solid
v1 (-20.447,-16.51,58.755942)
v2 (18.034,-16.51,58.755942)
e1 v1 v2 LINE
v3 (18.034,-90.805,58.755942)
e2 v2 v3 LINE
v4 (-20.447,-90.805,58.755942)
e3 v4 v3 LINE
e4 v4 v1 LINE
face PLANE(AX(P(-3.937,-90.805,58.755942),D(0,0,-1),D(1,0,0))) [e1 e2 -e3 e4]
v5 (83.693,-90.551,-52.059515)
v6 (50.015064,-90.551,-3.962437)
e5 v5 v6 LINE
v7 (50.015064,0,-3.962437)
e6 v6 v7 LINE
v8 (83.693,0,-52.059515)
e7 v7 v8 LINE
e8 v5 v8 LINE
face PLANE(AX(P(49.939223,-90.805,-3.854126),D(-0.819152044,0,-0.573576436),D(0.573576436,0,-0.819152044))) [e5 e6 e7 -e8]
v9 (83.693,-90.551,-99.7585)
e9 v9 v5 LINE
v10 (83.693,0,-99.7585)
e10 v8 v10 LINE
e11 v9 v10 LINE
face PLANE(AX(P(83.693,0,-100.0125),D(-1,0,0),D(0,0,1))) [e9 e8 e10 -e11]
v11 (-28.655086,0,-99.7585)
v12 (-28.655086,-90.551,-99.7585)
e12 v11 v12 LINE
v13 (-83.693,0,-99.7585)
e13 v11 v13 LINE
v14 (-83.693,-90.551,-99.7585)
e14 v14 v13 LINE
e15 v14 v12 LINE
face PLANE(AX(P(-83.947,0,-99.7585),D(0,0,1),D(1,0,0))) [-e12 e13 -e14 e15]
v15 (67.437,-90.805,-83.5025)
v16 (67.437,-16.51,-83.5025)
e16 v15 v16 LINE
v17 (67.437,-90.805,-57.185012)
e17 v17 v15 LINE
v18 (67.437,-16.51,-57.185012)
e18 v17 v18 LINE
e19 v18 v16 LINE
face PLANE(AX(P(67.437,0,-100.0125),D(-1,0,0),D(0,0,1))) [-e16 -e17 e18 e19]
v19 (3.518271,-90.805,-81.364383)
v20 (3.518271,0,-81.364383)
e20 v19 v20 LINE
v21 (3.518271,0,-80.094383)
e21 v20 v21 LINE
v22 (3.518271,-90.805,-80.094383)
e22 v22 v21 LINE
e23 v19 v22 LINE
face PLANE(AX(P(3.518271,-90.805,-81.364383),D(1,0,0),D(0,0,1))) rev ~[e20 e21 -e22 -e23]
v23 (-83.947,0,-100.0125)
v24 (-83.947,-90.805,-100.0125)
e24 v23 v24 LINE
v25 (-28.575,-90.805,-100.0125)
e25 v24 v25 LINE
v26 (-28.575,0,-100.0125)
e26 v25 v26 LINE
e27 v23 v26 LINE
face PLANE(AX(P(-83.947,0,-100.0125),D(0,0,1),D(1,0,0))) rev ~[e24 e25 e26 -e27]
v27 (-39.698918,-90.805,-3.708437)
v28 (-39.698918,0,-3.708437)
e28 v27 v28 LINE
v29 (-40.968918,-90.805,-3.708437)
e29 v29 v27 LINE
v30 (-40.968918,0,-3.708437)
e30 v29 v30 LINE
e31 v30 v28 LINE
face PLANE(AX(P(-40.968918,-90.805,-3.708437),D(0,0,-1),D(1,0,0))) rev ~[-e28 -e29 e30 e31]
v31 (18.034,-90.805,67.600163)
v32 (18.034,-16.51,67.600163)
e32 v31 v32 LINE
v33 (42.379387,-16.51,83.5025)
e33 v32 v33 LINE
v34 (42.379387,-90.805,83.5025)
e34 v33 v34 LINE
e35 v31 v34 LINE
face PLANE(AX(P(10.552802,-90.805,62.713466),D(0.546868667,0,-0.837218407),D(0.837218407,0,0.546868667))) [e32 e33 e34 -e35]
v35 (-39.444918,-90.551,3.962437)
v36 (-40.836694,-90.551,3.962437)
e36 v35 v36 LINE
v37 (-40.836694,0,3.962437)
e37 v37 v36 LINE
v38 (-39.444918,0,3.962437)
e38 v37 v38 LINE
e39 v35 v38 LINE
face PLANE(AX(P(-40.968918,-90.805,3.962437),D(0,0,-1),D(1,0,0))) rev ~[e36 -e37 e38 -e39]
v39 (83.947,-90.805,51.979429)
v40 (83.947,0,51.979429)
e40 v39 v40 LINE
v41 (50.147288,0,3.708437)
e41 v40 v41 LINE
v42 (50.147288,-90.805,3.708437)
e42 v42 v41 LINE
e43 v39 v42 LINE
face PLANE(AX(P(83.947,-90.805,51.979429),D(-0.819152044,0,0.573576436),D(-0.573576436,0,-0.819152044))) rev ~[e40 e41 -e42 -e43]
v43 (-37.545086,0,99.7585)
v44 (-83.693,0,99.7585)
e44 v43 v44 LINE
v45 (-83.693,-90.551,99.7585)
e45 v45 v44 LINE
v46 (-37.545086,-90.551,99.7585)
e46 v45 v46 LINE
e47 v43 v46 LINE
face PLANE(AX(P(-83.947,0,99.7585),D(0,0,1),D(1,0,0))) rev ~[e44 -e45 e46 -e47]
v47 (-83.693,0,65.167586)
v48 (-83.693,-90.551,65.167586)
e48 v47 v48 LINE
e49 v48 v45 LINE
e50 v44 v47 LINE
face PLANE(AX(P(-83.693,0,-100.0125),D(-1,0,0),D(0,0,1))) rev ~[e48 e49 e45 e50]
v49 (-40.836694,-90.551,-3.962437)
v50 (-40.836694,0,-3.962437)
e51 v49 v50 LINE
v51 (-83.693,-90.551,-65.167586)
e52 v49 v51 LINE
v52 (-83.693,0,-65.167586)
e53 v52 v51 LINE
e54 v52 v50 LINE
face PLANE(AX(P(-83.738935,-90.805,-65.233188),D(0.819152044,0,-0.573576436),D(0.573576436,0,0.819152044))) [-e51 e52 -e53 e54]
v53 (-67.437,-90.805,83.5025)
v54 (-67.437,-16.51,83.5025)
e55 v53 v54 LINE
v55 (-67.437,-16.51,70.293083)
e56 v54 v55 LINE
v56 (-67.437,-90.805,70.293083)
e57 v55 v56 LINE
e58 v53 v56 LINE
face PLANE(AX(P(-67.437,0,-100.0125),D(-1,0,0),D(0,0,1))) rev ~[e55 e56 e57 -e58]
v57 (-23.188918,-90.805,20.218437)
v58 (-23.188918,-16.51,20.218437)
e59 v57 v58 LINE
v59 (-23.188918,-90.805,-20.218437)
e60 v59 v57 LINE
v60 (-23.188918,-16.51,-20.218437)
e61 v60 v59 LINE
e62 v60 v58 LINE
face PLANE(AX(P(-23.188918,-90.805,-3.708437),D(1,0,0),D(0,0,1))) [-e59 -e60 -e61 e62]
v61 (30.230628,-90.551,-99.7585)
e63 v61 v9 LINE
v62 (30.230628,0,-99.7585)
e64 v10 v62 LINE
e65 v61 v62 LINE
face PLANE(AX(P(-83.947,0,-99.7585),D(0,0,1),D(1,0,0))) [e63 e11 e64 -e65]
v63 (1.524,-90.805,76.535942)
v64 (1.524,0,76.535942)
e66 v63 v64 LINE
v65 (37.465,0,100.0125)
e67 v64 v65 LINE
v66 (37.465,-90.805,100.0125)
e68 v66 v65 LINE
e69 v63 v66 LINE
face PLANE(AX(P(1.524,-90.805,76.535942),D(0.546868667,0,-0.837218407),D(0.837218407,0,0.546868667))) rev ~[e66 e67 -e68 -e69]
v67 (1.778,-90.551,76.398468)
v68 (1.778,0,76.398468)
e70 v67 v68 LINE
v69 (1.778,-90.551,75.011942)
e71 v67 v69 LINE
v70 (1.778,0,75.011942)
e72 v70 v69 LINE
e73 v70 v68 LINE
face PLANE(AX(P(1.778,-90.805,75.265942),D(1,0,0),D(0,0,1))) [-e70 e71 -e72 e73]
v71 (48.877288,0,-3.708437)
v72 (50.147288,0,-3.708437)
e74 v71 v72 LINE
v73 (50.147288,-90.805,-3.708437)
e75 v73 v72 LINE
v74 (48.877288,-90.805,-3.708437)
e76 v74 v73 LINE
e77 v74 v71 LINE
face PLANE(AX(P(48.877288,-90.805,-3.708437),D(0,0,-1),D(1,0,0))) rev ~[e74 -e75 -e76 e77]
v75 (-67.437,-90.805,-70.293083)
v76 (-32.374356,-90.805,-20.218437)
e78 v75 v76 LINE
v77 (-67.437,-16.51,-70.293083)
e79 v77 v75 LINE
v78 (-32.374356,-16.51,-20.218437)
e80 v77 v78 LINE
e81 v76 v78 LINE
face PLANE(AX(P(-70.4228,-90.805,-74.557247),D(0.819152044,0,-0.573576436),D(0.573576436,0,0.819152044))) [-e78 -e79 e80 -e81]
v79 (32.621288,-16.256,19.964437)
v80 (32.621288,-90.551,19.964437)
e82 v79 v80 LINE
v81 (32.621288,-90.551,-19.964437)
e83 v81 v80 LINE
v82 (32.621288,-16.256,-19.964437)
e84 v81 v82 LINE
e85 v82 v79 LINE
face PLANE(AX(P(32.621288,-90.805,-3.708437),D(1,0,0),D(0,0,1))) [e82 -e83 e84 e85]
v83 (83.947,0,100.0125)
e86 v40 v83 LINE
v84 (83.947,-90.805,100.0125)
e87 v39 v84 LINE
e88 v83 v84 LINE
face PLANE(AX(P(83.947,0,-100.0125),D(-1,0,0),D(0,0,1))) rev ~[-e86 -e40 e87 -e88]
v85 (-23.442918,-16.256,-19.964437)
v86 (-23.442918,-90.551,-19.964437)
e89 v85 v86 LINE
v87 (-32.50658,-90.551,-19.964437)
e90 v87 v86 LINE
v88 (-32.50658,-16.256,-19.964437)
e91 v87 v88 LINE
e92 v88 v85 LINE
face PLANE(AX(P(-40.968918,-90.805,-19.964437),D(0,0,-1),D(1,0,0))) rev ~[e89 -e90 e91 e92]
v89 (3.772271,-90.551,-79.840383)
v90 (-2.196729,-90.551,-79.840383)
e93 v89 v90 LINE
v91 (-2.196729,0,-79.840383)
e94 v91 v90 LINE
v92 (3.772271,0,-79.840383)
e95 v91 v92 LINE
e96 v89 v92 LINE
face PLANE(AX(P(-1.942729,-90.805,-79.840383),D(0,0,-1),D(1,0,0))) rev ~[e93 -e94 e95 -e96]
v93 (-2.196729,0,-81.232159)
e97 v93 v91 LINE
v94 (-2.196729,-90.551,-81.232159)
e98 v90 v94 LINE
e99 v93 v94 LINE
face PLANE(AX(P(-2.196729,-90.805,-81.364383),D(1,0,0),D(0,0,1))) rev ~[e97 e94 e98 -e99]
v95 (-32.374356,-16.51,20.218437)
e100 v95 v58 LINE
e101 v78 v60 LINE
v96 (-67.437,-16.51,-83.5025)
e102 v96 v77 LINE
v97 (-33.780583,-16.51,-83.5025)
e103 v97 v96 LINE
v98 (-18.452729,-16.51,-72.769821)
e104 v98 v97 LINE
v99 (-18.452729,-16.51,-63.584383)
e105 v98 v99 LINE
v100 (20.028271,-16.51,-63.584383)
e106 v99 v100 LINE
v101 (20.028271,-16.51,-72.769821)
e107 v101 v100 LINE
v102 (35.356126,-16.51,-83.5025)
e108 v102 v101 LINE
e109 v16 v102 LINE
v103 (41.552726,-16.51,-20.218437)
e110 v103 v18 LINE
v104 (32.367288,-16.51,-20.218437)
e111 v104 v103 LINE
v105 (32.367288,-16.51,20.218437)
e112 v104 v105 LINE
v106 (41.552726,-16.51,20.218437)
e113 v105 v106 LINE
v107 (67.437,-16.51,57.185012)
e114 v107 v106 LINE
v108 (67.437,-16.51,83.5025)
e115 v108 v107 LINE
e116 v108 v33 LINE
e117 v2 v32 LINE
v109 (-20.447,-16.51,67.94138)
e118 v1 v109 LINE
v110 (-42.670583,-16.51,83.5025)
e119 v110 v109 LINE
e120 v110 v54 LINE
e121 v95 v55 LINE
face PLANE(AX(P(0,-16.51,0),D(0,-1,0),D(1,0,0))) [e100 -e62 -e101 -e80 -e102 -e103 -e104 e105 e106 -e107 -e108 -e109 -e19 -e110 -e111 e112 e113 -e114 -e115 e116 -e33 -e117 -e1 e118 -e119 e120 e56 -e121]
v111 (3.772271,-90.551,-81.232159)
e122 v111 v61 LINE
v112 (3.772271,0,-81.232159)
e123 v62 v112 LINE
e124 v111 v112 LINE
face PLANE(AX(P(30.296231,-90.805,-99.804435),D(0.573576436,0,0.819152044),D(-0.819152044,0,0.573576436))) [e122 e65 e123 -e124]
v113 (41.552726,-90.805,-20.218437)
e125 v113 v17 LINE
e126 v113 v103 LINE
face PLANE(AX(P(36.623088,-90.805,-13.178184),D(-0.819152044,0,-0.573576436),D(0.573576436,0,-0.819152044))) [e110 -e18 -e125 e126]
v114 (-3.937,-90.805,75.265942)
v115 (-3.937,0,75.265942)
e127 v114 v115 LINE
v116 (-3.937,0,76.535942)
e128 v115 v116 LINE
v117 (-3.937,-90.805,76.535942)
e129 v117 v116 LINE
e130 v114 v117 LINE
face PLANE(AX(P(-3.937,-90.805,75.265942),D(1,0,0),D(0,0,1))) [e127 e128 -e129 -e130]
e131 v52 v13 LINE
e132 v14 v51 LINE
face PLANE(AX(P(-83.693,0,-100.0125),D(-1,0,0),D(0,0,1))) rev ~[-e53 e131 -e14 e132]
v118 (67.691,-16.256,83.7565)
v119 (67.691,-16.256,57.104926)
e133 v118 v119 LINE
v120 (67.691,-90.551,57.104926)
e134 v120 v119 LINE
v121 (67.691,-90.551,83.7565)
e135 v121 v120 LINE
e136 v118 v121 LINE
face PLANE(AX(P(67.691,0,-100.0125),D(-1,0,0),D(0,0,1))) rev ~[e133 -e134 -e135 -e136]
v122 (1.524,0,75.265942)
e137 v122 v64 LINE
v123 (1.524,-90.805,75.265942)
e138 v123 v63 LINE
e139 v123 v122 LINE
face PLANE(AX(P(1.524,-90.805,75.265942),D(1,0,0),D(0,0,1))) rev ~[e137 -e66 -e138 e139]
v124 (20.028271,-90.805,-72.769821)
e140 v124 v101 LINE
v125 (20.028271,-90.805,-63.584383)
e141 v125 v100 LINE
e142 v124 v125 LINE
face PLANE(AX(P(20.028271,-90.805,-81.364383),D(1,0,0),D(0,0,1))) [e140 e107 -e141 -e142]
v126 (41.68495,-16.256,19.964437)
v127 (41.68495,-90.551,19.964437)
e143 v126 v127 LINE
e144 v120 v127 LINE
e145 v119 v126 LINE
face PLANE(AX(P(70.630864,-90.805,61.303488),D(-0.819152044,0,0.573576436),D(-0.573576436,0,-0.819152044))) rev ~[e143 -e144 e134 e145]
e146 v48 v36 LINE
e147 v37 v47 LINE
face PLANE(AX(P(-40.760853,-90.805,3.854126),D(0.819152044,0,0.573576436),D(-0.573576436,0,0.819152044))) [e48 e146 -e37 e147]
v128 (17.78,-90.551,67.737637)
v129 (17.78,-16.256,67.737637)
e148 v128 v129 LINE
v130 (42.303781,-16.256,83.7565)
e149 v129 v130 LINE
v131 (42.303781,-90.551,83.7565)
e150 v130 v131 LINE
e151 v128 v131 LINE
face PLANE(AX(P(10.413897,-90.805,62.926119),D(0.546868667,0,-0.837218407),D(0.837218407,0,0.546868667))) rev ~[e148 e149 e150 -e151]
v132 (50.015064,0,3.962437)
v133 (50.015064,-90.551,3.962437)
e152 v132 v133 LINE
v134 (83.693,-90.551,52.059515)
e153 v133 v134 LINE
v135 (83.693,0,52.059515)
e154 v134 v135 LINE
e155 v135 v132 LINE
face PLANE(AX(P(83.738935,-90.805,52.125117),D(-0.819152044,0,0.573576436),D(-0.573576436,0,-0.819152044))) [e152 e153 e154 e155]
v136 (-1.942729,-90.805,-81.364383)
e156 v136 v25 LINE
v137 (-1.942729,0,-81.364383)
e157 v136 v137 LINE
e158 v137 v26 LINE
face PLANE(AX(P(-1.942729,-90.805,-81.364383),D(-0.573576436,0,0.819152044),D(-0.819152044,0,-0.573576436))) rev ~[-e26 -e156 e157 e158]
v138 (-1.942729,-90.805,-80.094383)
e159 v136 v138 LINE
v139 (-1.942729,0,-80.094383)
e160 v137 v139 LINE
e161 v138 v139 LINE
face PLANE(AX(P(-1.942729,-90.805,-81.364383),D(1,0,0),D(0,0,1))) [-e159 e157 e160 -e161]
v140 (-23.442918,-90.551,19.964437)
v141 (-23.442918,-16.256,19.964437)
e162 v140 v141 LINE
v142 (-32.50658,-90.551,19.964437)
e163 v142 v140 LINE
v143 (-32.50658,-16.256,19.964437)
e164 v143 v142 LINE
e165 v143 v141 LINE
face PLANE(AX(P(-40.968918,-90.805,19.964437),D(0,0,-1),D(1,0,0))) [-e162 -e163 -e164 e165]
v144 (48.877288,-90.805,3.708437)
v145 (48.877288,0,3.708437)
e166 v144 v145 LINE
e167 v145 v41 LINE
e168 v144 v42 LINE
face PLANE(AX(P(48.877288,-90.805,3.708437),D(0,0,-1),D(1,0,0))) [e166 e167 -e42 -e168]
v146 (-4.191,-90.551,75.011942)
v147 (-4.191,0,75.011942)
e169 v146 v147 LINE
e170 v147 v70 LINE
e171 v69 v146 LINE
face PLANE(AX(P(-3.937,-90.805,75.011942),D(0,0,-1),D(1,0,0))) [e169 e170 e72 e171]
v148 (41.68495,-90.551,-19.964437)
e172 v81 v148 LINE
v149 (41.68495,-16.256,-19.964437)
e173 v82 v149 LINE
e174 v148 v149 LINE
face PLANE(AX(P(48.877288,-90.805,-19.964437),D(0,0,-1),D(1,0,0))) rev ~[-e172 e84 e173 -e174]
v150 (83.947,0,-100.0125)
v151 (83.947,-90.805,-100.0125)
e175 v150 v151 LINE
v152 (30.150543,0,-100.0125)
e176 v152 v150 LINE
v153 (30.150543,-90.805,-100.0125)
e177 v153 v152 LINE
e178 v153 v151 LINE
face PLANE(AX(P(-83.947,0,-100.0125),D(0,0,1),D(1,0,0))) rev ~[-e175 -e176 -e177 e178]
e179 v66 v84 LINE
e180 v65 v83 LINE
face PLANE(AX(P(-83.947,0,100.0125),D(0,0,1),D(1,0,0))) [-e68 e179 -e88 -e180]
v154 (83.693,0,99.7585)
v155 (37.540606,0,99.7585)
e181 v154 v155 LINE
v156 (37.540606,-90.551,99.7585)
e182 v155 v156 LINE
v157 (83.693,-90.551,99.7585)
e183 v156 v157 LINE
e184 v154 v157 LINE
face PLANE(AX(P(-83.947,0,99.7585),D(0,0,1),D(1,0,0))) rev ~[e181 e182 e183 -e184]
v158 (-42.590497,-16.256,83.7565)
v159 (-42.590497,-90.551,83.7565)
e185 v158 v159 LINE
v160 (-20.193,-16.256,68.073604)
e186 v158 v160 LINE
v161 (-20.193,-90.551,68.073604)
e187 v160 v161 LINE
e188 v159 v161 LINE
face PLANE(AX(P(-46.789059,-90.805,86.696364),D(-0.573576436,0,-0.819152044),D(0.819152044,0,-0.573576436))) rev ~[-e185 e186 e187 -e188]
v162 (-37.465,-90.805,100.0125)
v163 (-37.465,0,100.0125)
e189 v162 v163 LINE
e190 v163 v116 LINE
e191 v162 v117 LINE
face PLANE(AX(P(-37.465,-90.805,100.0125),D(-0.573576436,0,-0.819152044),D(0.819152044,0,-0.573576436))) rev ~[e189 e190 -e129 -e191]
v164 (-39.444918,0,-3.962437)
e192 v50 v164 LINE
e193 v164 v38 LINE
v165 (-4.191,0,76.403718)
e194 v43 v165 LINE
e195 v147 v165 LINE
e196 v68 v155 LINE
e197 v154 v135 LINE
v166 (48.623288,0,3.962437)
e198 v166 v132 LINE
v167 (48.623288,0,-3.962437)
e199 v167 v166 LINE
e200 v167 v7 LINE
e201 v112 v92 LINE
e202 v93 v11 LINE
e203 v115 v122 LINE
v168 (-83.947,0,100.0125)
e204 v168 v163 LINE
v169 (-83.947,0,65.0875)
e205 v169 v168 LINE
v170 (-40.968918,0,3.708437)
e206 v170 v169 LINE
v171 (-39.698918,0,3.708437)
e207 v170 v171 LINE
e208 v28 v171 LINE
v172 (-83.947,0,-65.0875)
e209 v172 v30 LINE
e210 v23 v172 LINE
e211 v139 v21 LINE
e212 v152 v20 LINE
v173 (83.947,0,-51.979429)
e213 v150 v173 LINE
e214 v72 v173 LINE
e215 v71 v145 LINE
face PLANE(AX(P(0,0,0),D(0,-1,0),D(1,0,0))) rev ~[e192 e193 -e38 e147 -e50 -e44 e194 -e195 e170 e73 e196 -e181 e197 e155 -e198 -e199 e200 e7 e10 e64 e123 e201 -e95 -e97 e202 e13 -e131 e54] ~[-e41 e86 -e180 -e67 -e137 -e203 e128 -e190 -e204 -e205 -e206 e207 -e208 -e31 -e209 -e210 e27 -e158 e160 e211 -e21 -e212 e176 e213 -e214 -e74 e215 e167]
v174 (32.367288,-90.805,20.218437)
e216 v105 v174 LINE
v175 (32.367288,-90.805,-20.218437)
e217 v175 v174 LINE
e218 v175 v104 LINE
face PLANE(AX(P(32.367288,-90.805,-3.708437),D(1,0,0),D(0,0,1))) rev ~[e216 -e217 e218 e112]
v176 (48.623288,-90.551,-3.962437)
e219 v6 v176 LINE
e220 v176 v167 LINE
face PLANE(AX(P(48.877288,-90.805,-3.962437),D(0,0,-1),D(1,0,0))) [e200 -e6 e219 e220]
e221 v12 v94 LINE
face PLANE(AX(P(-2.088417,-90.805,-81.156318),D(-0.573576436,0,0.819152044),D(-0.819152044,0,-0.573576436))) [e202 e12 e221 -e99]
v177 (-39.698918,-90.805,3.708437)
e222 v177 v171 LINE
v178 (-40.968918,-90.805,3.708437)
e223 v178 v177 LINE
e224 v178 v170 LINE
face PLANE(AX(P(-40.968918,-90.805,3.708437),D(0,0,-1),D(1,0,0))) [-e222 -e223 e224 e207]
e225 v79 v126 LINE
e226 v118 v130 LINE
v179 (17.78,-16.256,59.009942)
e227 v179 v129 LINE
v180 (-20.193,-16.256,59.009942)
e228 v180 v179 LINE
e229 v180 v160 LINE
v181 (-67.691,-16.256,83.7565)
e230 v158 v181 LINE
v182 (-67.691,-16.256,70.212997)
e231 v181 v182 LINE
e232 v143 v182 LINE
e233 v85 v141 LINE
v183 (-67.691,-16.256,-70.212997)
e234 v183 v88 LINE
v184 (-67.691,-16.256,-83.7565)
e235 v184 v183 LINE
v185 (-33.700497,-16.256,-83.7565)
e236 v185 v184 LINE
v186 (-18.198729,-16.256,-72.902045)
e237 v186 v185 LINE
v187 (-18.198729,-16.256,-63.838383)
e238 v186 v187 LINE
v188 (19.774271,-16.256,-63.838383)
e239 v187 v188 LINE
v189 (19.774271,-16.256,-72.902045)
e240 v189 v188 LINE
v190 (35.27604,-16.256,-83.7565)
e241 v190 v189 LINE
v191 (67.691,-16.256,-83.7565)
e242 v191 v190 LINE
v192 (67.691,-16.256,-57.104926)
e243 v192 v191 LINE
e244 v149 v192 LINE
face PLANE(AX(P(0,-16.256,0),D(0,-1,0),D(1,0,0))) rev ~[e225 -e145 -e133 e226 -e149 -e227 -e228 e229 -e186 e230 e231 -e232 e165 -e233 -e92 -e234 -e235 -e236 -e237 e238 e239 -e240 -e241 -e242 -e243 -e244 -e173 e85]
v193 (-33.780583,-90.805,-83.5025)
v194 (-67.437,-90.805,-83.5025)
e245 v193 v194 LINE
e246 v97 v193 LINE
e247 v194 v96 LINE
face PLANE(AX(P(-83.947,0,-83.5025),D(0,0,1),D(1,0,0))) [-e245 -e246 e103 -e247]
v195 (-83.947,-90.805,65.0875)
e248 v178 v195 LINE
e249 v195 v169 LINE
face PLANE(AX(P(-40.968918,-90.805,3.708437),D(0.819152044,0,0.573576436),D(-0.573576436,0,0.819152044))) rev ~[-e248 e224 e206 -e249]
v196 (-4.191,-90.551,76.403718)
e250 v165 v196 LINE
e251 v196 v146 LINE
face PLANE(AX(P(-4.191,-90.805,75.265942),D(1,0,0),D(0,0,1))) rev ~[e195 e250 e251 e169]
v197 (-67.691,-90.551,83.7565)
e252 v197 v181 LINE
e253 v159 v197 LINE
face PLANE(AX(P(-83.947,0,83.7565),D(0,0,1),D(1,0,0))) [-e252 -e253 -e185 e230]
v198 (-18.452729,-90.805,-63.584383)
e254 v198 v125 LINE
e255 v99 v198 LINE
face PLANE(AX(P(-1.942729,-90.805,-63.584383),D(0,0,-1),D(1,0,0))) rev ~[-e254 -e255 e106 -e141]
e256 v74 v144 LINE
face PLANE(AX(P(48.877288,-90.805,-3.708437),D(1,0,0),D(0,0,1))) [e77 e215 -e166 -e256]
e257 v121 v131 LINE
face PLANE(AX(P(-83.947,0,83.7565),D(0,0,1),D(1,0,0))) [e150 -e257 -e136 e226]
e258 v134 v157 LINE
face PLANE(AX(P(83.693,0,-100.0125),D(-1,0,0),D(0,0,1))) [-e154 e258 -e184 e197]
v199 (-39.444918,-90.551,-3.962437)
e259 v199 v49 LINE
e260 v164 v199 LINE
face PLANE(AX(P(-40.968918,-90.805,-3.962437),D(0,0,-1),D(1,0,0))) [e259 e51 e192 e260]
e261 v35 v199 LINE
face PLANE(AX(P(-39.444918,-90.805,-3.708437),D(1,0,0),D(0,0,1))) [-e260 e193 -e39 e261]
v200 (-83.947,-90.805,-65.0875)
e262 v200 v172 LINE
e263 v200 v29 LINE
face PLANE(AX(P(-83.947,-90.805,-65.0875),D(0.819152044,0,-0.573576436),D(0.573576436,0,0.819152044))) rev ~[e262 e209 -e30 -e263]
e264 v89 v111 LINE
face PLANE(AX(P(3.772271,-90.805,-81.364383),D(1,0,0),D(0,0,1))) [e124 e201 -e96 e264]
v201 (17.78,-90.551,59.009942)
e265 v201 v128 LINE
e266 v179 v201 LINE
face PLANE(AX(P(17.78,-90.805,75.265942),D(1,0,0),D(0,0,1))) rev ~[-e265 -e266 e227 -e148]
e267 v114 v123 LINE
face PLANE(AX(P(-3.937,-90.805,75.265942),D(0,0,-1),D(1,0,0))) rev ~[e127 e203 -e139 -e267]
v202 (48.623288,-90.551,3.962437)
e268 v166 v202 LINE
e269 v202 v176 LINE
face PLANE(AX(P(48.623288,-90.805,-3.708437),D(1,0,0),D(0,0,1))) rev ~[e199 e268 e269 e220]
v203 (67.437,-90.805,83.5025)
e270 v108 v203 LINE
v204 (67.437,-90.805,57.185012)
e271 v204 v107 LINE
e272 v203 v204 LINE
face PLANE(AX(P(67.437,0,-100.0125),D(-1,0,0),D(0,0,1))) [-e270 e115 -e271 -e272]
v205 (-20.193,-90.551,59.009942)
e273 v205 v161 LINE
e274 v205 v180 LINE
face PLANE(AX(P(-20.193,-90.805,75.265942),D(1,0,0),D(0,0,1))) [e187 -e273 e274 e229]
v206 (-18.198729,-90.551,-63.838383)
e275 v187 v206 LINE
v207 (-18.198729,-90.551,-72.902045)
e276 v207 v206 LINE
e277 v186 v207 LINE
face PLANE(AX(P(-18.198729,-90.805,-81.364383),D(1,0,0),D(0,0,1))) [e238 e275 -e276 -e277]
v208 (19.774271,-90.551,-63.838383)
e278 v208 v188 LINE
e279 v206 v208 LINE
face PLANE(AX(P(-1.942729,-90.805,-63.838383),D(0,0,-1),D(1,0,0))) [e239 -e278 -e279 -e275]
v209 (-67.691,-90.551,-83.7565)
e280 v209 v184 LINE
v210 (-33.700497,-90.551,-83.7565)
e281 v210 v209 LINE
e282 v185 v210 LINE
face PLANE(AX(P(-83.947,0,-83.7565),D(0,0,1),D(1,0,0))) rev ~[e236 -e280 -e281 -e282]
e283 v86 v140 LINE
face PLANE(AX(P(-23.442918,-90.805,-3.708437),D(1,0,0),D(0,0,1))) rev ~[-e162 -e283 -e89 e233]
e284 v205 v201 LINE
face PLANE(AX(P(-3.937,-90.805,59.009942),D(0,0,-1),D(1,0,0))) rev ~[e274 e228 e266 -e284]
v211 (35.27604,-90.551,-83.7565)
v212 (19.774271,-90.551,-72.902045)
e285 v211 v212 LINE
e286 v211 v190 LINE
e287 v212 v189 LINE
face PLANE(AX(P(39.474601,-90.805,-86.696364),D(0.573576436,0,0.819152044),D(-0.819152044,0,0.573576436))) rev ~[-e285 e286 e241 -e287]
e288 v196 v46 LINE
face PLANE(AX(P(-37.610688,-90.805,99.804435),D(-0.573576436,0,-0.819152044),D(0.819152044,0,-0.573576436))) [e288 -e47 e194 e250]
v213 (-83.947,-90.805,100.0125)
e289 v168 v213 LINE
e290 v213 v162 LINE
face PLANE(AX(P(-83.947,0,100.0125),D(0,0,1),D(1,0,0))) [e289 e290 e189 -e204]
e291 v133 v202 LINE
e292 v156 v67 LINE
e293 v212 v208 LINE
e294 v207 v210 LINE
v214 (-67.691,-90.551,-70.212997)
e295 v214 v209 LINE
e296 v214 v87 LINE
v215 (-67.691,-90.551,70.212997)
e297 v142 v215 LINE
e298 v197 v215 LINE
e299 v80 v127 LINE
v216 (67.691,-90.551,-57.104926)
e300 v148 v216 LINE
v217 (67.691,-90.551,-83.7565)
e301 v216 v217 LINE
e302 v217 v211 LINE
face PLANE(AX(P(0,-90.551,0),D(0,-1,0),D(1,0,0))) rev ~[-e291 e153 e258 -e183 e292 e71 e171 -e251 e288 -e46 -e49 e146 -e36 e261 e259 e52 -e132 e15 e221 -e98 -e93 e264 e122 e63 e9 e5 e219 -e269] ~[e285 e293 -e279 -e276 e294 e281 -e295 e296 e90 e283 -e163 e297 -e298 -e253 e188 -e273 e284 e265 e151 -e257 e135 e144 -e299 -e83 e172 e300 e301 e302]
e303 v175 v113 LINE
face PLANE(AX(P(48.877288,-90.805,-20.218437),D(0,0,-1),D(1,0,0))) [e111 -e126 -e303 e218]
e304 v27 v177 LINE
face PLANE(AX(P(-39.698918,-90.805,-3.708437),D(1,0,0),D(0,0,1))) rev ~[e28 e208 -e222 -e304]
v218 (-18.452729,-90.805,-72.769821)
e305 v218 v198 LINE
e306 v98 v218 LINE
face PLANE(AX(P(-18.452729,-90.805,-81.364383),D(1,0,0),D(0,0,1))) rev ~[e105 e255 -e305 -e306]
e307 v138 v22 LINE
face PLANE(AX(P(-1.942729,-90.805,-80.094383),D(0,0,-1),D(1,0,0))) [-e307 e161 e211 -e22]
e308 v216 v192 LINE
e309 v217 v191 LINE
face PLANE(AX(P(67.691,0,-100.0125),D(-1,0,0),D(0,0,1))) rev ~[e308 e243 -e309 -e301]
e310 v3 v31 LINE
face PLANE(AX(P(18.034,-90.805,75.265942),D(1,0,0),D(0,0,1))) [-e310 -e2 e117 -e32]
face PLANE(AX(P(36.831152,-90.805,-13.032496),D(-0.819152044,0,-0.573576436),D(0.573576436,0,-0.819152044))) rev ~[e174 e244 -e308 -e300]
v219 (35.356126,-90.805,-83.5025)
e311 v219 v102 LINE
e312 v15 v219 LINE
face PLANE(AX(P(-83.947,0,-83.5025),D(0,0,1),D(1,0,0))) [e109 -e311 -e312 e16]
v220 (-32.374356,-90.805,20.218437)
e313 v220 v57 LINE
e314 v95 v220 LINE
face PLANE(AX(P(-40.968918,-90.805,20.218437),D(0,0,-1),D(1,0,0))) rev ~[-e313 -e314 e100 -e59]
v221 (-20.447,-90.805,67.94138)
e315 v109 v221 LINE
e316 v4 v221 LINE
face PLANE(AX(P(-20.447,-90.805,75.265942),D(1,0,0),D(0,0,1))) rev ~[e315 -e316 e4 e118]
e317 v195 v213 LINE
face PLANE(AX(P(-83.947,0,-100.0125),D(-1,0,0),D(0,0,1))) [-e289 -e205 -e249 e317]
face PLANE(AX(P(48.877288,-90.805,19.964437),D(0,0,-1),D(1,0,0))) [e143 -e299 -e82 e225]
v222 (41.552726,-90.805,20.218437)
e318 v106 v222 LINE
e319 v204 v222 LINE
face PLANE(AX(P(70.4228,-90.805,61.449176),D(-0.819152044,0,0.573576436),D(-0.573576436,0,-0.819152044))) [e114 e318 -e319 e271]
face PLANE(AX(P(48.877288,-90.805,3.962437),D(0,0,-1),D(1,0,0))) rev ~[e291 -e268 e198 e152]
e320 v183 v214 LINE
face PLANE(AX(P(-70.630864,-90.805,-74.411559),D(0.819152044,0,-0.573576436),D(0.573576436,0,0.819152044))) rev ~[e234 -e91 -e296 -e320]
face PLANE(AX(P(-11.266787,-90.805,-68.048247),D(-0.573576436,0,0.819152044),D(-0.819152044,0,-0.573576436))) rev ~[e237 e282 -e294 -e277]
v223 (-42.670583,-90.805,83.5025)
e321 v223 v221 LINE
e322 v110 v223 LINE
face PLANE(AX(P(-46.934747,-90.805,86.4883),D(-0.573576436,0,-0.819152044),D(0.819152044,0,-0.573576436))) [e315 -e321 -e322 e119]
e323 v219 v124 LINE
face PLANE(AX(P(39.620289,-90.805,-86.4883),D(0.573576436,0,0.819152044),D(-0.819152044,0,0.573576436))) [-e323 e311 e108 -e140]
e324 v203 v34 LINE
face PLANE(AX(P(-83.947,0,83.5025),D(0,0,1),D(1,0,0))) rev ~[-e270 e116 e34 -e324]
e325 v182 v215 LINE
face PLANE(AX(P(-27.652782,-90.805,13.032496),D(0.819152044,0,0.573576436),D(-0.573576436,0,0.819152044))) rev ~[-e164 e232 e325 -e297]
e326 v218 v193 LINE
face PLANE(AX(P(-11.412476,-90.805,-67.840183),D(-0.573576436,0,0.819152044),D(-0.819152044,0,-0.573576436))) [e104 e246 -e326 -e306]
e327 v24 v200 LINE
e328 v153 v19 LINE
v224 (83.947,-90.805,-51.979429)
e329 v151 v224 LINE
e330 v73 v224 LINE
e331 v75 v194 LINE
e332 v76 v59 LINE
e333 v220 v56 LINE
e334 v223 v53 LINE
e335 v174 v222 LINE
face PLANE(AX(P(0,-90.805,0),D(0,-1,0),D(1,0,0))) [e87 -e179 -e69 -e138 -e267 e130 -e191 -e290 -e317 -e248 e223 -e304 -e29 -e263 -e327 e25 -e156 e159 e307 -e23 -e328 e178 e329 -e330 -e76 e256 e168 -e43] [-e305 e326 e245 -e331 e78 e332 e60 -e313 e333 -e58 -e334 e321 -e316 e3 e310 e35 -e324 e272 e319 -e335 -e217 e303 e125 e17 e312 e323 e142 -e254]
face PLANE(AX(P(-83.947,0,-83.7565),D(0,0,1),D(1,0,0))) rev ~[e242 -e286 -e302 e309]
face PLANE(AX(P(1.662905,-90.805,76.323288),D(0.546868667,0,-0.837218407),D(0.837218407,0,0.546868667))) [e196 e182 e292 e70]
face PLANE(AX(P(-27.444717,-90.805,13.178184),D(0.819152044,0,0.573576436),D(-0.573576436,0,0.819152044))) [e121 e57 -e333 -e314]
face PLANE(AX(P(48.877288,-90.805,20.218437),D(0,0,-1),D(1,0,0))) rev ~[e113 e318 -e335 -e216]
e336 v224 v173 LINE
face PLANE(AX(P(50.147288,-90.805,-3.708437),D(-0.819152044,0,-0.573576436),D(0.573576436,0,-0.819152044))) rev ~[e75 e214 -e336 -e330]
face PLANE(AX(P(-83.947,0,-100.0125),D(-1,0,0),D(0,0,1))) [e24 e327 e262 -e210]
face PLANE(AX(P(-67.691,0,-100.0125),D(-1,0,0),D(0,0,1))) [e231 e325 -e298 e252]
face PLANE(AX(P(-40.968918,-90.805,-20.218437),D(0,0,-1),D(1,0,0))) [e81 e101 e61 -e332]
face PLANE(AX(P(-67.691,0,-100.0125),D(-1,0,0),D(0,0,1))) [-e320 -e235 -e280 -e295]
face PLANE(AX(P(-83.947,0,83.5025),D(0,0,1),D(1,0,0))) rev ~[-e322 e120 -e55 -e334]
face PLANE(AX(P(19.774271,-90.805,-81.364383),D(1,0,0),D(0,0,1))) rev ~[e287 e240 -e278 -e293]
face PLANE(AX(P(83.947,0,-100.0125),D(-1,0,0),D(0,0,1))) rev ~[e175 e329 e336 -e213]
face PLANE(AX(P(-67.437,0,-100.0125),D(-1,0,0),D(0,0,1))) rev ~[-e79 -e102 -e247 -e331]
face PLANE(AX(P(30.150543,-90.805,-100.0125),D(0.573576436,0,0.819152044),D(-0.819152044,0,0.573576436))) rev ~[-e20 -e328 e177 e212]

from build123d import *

# Parameters (mm, degrees)
F0_W     = 167.894
F0_H     = 200.025
F1_DEPTH = 90.805
F2_W     = 1.27
F2_H     = 7.4168746429
F2_W_2   = 5.461
F2_H_2   = 1.27
F3_DEPTH = 90.806
F4_T     = -16.51
F5_T     = -0.254


with BuildPart() as f1:
    # F0 (on Front) → F1 (new body)
    with BuildSketch(Plane.XZ):
        Rectangle(F0_W, F0_H)
    extrude(amount=F1_DEPTH)

    # F2 (on face) → F3 (cut, through all)
    with BuildSketch(Plane.XZ.offset(90.805)):
        Polygon((37.465, 100.0125), (-37.465, 100.0125), (-3.937, 76.5359416589), (1.524, 76.5359416589), align=None)
        Polygon((-40.9689176242, 3.7084373214), (-83.947, 65.0875), (-83.947, -65.0875), (-40.9689176242, -3.7084373214), align=None)
        Polygon((83.947, -51.9794289873), (83.947, 51.9794289873), (50.1472877587, 3.7084373214), (50.1472877587, -3.7084373214), align=None)
        Polygon((-1.9427287361, -81.3643829014), (-28.575, -100.0125), (30.1505425278, -100.0125), (3.5182712639, -81.3643829014), align=None)
        with Locations((-40.3339176242, 0)):
            Rectangle(F2_W, F2_H)
        with Locations((49.5122877587, 0)):
            Rectangle(F2_W, F2_H)
        with Locations((-1.2065, 75.9009416589)):
            Rectangle(F2_W_2, F2_H_2)
        with Locations((0.7877712639, -80.7293829014)):
            Rectangle(F2_W_2, F2_H_2)
    extrude(amount=-F3_DEPTH, mode=Mode.SUBTRACT)

    # F4
    f4_openings = [f1.faces().sort_by_distance(p)[0] for p in [
        (2.503833, -90.805, -1.127696),
    ]]
    offset(amount=F4_T, openings=f4_openings, kind=Kind.INTERSECTION)

    # F5
    f5_openings = [f1.faces().sort_by_distance(p)[0] for p in [
        (2.503833, 0, -1.127696),
    ]]
    offset(amount=F5_T, openings=f5_openings, kind=Kind.INTERSECTION)


solid = f1.part
